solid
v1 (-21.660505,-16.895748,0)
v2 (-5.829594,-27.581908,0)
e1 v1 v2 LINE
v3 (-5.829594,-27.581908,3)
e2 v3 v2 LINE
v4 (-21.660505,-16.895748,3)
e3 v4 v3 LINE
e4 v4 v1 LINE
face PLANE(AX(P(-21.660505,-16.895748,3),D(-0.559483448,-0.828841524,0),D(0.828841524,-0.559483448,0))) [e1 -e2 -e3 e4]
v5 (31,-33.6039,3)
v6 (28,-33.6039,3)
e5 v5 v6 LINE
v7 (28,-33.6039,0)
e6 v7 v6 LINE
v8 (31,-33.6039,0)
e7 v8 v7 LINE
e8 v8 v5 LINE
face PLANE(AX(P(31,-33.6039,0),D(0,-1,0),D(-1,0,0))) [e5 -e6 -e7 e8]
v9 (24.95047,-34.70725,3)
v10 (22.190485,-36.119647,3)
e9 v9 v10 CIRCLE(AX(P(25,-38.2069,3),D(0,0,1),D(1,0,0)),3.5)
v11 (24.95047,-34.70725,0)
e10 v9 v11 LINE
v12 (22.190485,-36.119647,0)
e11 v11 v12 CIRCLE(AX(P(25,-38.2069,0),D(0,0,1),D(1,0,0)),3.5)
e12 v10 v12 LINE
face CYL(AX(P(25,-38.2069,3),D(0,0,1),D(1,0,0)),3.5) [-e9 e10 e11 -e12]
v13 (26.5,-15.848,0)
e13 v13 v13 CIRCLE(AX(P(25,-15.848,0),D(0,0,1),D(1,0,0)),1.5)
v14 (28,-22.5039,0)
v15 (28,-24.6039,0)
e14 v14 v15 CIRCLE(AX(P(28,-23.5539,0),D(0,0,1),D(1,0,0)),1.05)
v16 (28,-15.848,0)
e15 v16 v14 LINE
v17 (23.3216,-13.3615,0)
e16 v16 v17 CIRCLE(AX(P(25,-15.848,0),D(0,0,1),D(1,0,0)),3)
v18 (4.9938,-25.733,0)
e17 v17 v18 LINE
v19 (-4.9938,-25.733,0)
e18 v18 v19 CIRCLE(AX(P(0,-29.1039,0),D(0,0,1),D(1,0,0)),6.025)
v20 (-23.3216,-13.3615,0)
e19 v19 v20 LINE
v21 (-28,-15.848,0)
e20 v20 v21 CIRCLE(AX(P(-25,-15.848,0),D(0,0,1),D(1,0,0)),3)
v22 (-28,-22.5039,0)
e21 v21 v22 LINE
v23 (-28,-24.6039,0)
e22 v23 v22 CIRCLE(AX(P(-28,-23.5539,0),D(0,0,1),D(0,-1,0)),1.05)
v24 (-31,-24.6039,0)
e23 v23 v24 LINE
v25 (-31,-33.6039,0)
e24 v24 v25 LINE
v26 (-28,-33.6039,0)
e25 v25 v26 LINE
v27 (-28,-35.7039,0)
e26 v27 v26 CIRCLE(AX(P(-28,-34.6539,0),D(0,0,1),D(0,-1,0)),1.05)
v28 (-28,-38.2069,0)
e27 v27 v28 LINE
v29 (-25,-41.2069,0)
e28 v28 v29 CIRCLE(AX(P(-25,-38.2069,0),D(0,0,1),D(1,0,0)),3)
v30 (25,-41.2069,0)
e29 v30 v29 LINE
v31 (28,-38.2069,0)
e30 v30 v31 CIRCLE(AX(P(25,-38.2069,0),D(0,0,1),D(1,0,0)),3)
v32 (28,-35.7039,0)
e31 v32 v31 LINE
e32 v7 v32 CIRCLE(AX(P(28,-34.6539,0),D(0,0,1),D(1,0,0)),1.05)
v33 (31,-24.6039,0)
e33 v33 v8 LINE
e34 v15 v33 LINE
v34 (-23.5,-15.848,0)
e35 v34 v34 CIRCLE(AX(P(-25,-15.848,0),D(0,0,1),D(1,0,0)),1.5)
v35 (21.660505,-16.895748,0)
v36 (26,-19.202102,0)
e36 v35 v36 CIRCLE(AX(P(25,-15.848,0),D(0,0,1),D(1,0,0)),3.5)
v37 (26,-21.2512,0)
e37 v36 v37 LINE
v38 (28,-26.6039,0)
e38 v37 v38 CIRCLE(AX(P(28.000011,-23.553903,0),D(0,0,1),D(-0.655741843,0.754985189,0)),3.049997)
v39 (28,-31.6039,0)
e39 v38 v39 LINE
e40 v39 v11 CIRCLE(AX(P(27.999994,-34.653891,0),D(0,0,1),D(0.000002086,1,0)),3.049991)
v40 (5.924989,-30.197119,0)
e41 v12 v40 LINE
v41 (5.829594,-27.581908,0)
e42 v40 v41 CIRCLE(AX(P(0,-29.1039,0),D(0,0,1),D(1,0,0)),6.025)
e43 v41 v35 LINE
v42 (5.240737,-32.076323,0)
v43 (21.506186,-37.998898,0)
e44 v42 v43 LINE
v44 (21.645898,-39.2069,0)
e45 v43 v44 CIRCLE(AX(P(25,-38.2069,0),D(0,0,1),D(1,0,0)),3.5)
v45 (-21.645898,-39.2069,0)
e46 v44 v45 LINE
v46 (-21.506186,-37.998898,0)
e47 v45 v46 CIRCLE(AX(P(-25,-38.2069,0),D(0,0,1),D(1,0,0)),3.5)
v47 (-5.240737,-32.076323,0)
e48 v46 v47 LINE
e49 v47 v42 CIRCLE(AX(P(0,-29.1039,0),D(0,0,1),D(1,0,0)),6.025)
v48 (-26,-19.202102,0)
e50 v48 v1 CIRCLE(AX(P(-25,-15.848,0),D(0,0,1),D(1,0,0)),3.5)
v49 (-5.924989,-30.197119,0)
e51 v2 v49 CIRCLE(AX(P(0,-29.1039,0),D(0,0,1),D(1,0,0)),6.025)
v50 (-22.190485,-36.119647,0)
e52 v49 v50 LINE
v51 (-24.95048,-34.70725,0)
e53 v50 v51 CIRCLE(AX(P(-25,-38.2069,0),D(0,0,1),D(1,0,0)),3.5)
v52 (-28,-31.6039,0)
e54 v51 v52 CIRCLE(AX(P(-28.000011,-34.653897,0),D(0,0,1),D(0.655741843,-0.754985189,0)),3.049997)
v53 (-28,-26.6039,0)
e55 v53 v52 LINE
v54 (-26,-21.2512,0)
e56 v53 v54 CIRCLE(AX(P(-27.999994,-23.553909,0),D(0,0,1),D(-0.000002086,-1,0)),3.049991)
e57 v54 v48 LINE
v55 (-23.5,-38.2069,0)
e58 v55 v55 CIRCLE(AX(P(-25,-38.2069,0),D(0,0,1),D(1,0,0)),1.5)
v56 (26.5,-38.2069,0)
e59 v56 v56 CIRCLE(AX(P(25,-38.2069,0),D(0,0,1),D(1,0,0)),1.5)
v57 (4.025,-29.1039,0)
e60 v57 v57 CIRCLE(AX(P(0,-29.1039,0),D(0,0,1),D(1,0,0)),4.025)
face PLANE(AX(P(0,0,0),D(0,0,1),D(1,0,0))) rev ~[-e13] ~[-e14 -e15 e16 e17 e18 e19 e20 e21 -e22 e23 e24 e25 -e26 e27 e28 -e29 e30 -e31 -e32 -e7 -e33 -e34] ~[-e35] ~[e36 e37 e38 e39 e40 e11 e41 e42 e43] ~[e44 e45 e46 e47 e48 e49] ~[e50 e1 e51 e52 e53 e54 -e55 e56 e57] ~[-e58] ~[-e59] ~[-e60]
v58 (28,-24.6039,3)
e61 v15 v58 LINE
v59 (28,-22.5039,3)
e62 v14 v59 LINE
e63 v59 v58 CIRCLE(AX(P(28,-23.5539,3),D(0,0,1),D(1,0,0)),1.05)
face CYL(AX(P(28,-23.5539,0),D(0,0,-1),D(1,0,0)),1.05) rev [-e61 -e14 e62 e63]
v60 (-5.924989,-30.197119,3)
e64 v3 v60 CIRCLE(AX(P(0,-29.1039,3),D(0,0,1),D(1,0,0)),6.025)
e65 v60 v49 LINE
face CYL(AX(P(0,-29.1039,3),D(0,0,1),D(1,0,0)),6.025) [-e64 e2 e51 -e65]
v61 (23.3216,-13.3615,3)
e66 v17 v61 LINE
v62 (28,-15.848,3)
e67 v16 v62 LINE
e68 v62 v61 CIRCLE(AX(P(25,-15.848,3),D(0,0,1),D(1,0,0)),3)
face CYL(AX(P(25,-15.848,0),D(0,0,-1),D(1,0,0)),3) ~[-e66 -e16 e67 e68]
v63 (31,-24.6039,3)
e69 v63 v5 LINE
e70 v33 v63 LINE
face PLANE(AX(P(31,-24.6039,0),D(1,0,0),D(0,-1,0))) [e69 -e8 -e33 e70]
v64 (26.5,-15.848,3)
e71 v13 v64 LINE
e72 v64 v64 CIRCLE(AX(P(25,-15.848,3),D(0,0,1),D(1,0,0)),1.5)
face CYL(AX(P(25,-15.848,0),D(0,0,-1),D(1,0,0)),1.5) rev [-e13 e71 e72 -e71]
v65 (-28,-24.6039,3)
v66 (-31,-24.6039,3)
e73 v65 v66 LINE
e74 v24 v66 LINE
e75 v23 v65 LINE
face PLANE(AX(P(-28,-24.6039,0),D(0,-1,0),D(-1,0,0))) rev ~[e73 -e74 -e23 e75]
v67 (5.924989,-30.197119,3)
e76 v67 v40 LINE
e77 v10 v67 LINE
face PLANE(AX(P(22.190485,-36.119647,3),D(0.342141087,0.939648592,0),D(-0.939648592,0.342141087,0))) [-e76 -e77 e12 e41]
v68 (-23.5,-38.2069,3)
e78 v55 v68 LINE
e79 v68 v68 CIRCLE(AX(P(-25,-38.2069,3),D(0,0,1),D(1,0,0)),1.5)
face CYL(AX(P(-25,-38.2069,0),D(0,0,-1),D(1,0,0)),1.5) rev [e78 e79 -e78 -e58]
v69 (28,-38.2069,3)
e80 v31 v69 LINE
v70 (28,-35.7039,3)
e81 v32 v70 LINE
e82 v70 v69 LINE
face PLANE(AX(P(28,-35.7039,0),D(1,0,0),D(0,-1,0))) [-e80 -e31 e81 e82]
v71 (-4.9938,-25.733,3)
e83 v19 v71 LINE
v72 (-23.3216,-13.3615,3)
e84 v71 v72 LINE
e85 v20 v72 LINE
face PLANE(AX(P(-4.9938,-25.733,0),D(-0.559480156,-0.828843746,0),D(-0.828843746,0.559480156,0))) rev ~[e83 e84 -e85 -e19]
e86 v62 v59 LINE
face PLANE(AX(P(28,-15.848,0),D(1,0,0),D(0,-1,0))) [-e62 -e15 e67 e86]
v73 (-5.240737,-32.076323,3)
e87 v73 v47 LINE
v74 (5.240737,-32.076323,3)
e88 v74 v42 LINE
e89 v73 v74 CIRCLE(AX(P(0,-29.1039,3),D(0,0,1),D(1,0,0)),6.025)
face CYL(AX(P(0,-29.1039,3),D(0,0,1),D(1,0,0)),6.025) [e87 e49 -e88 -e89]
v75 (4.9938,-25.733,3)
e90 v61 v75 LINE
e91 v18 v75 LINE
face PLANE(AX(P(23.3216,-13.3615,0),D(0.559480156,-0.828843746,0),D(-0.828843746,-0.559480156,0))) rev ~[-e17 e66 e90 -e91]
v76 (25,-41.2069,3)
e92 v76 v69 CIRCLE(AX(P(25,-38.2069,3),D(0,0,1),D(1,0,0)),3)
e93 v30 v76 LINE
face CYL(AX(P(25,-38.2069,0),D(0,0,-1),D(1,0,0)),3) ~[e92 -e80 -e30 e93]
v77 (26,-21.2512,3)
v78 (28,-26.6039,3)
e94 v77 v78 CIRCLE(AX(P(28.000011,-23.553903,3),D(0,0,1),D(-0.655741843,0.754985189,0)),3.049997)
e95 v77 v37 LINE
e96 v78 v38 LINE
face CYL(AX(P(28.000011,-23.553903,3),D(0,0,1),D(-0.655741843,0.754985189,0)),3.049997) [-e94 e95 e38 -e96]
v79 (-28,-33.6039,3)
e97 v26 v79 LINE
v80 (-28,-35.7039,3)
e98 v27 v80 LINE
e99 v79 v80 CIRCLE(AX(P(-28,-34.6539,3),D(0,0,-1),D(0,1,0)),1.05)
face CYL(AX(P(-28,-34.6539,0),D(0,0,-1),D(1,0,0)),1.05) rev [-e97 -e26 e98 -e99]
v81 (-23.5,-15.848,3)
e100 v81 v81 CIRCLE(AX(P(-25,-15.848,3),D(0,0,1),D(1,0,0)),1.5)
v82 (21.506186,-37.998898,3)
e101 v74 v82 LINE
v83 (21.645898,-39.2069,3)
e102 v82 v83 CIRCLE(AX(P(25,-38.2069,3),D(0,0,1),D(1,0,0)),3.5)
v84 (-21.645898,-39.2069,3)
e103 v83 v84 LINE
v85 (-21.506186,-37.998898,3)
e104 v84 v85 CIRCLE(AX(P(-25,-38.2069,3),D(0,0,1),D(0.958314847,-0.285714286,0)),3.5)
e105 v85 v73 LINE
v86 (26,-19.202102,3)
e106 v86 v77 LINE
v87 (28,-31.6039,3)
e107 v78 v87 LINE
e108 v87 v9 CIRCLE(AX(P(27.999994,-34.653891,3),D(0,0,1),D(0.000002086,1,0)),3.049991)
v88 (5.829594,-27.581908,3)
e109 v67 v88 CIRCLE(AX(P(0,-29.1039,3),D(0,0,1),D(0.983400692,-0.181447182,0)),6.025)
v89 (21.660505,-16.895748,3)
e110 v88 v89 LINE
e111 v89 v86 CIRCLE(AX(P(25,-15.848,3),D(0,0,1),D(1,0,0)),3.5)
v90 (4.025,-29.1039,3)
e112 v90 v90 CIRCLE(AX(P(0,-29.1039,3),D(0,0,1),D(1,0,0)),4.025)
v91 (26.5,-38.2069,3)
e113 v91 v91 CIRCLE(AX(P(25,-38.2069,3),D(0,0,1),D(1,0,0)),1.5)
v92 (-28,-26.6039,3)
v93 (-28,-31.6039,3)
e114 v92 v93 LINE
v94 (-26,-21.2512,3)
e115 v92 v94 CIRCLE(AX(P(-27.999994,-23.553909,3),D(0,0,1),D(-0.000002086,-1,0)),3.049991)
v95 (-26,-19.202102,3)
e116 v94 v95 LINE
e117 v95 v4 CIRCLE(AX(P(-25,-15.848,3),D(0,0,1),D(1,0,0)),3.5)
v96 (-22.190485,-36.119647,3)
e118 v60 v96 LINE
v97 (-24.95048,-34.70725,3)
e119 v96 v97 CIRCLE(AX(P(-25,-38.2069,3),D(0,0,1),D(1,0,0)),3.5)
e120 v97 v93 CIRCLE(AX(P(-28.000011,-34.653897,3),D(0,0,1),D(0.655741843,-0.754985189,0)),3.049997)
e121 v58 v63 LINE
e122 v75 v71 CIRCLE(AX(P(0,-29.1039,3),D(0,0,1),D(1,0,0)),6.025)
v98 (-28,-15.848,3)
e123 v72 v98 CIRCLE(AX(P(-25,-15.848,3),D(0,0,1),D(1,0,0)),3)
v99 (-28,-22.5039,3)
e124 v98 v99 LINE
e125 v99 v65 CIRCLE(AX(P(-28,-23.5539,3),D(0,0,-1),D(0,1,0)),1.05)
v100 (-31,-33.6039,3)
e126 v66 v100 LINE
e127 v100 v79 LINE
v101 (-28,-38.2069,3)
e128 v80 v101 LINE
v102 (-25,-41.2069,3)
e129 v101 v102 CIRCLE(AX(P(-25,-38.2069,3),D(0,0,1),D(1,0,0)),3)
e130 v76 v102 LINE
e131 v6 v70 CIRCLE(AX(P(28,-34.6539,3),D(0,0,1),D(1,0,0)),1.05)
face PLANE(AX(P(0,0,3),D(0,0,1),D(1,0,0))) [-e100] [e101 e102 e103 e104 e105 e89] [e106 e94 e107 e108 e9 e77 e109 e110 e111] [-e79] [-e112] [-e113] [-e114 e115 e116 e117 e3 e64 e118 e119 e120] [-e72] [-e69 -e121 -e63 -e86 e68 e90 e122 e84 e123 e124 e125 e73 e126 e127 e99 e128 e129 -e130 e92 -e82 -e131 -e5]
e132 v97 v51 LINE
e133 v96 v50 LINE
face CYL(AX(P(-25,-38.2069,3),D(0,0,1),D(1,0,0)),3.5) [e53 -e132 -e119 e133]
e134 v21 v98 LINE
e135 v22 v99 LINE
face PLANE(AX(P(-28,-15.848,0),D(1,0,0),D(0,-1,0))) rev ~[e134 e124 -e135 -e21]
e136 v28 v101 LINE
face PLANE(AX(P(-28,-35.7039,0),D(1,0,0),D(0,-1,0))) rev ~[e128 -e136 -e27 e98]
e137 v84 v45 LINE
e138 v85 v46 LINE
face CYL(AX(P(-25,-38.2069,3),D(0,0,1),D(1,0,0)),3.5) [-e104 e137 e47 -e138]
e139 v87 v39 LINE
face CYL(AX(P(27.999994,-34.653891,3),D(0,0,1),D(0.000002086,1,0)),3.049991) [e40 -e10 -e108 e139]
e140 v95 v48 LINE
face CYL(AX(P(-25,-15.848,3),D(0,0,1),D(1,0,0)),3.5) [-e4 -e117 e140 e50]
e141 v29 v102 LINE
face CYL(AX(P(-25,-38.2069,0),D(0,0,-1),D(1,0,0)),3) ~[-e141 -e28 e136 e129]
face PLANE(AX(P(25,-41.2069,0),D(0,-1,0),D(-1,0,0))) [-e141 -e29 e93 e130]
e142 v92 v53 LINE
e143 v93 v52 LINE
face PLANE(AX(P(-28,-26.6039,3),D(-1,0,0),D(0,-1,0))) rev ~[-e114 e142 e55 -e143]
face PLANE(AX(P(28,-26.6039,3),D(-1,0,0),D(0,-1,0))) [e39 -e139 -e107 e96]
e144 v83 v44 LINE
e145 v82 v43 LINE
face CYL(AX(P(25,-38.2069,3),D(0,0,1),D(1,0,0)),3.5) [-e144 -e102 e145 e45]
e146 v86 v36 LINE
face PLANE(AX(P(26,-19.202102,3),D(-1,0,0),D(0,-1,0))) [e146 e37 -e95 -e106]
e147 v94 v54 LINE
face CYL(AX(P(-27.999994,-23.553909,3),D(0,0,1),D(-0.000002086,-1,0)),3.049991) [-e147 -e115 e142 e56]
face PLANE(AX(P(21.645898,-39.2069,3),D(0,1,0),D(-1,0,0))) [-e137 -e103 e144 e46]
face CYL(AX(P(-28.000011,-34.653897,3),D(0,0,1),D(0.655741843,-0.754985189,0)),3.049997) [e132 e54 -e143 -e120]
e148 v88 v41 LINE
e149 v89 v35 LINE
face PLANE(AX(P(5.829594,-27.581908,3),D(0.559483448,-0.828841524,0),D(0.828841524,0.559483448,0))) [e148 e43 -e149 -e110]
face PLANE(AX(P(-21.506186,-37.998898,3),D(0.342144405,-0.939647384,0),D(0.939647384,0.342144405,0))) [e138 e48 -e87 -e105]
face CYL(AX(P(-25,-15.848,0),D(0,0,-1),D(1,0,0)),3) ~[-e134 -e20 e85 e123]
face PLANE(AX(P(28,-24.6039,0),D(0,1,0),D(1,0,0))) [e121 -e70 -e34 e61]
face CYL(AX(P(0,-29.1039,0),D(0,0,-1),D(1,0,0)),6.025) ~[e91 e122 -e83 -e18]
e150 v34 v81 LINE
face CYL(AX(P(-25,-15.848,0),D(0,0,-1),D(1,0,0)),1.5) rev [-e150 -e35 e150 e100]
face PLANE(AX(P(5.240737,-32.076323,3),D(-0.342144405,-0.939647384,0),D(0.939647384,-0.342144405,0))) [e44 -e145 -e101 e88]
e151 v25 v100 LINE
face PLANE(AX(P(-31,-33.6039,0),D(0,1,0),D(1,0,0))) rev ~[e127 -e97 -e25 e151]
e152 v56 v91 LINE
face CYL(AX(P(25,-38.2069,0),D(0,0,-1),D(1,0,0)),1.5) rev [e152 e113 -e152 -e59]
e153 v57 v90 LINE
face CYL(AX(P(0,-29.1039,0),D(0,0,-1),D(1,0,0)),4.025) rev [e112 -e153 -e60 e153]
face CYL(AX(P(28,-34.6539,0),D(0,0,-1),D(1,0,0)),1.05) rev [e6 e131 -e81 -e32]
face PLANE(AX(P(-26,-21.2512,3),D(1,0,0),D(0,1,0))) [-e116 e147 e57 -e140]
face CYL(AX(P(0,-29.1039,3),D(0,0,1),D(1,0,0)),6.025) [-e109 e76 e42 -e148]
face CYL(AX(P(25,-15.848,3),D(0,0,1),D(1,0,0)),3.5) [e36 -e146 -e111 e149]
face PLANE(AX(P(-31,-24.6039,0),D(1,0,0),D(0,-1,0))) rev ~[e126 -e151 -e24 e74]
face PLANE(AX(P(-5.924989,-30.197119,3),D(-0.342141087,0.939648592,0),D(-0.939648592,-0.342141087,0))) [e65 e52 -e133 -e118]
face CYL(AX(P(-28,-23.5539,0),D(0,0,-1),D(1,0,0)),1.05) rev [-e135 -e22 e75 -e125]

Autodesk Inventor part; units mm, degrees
ref_plane "YZ Plane" through (0, 0, 0) normal (1, 0, 0) x (0, 1, 0)
ref_plane "XZ Plane" through (0, 0, 0) normal (0, 1, 0) x (-1, 0, 0)
ref_plane "XY Plane" through (0, 0, 0) normal (0, 0, 1) x (1, 0, 0)
sketch "スケッチ1" plane through (0, 0, 0) normal (0, 0, 1) x (1, 0, 0)
  line L0 (0, 0) -> (0, 4) construction
  line L1 (0, 0) -> (8.6476, -12.2564)
  line L2 (8.6476, -12.2564) -> (-0.2755, 4.5179)
  circle A0 centre (3.0119, -1.6621) radius 4
  line L3 (-57.3278, -140) -> (69.8706, -140)
  line L4 (3.0119, -1.6621) -> (117.7837, 59.3906)
  circle A1 centre (0, 0) radius 23.1
  circle A2 centre (0, -29.1039) radius 6.0039
  line L5 (0, 0) -> (0, -29.1039) construction
  circle A3 centre (0, -29.1039) radius 16.55
  circle A4 centre (0, -7.5039) radius 5.05
  circle A5 centre (0, 4) radius 3
  circle A6 centre (0, -7.5039) radius 20.05
  circle A7 centre (-14, 10.2376) radius 2.55
  circle A8 centre (14, 10.2376) radius 2.55
  circle A9 centre (14, -25.2454) radius 2.55
  circle A10 centre (-14, -25.2454) radius 2.55
  circle A11 centre (-14, 10.2376) radius 14
  circle A12 centre (14, 10.2376) radius 14
  circle A13 centre (14, -25.2454) radius 14
  circle A14 centre (-14, -25.2454) radius 14
  line L6 (-14, 10.2376) -> (-14, -25.2454) construction
  line L7 (-14, -25.2454) -> (14, -25.2454) construction
  circle A15 centre (0, 0) radius 9
  line L8 (-0.2755, 4.5179) -> (3.4816, -2.5449) construction
  line L9 (-2.9462, 3.0973) -> (0.8109, -3.9656)
  line L10 (6.1522, -1.1243) -> (2.3951, 5.9386)
  arc A16 (2.3951, 5.9386) -> (-2.9462, 3.0973) centre (-0.2755, 4.5179) ccw
  arc A17 (0.8109, -3.9656) -> (6.1522, -1.1243) centre (3.4816, -2.5449) ccw
  line L11 (-5, 2.8868) -> (5, 2.8868) construction
  line L12 (5, 2.8868) -> (0, -5.7735) construction
  line L13 (0, -5.7735) -> (-5, 2.8868) construction
  circle A18 centre (-5, 2.8868) radius 1.5
  circle A19 centre (5, 2.8868) radius 1.5
  circle A20 centre (0, -5.7735) radius 1.5
  line L14 (-28, 22.5965) -> (-28, -43.3295)
  line L15 (28, 22.9271) -> (28, -43.0008)
  line L16 (-28, 26.1991) -> (28, 26.1991)
  circle A21 centre (0, 0) radius 25.1
  line L17 (-28, -18.848) -> (28, -18.848)
  circle A22 centre (0, -29.1039) radius 8.0039
  circle A23 centre (-25, 23.1991) radius 3
  circle A24 centre (25, 23.1991) radius 3
  circle A25 centre (25, -38.2069) radius 3
  circle A26 centre (-25, -38.2069) radius 3
  circle A27 centre (-25, -15.848) radius 3
  circle A28 centre (25, -15.848) radius 3
  circle A29 centre (-25, -15.848) radius 4.5
  circle A30 centre (25, -15.848) radius 4.5
  circle A31 centre (0, -7.5039) radius 4.5
  circle A32 centre (0, -29.1039) radius 17.55
  circle A33 centre (0, -7.5039) radius 6.05
  point P0 (1.603, 0.9865)
  dimension "d0" = 4
  dimension "d1" = 15
  dimension "d2" = 18.4133
  dimension "d3" = 19
  dimension "d4" = 8
  dimension "d5" = 12
  dimension "d6" = 140
  dimension "d7" = 130
  dimension "d8" = 46.2
  dimension "d9" = 29.1039
  dimension "d10" = 33.1
  dimension "d11" = 10.1
  dimension "d12" = 6
  dimension "d13" = 40.1
  dimension "d14" = 28
  dimension "d15" = 28
  dimension "d16" = 28
  dimension "d17" = 28
  dimension "d18" = 18
  dimension "d19" = 8
  dimension "d20" = 6.05
  dimension "d21" = 3
  dimension "d22" = 3
  dimension "d23" = 3
  dimension "d24" = 10
  dimension "d25" = 2
  dimension "d26" = 2
  dimension "d27" = 6
  dimension "d28" = 6
  dimension "d29" = 6
  dimension "d30" = 6
  dimension "d31" = 6
  dimension "d32" = 6
  dimension "d33" = 9
  dimension "d34" = 9
  dimension "d35" = 9
  dimension "d36" = 5.1
  dimension "d37" = 1
  dimension "d38" = 1
  dimension "d39" = 56
  dimension "d40" = 28
sketch "スケッチ2" plane through (0, 0, 0) normal (0, 0, 1) x (1, 0, 0)
  circle A0 centre (-25, -15.848) radius 3 projected
  circle A1 centre (-25, -38.2069) radius 3 projected
  circle A2 centre (25, -38.2069) radius 3 projected
  circle A3 centre (25, -15.848) radius 3 projected
  circle A4 centre (0, -29.1039) radius 6.0039 construction
  circle A5 centre (0, 0) radius 25.1 construction
  circle A6 centre (0, -29.1039) radius 4.025
  line L0 (25, -41.2069) -> (-25, -41.2069)
  circle A7 centre (-25, -15.848) radius 1.5
  circle A8 centre (25, -15.848) radius 1.5
  circle A9 centre (25, -38.2069) radius 1.5
  circle A10 centre (-25, -38.2069) radius 1.5
  circle A11 centre (0, -29.1039) radius 6.025
  line L1 (23.3216, -13.3615) -> (4.9938, -25.733)
  line L2 (-4.9938, -25.733) -> (-23.3216, -13.3615)
  line L3 (-28, -15.848) -> (-28, -38.2069)
  line L4 (28, -15.848) -> (28, -38.2069)
  line L5 (-28, -24.6039) -> (-31, -24.6039)
  line L6 (-31, -24.6039) -> (-31, -33.6039)
  line L7 (-31, -33.6039) -> (-28, -33.6039)
  line L8 (28, -24.6039) -> (31, -24.6039)
  line L9 (31, -24.6039) -> (31, -33.6039)
  line L10 (31, -33.6039) -> (28, -33.6039)
  circle A12 centre (-28, -34.6539) radius 1.05
  circle A13 centre (-28, -23.5539) radius 1.05
  circle A14 centre (28, -23.5539) radius 1.05
  circle A15 centre (28, -34.6539) radius 1.05
  point P0 (-28, -22.5039)
  point P1 (-28, -35.7039)
  point P2 (28, -35.7039)
  point P3 (28, -22.5039)
  dimension "d41" = 8.05
  dimension "d52" = 3
  dimension "d53" = 3
  dimension "d54" = 3
  dimension "d55" = 3
  dimension "d57" = 2
  dimension "d61" = 3
  dimension "d62" = 9
  dimension "d63" = 3
  dimension "d64" = 9
  dimension "d65" = 2.1
  dimension "d66" = 2.1
  dimension "d67" = 2.1
  dimension "d68" = 2.1
  dimension "d69" = 4.5
extrude "押し出し2" add sketch "スケッチ2" along normal blind 3 contours A0 | A0 L2 A11 L1 A3 L4 A14 A15 A2 L0 A1 L3 A12 A13 | A11 | L3 L7 L6 L5 | A3 | A1 | L8 L9 L10 L4 | A2
sketch "スケッチ3" plane through (0, 0, 3) normal (0, 0, 1) x (1, 0, 0)
  line L0 (-28, -15.848) -> (-28, -22.5039) projected
  arc A0 (-28, -24.6039) -> (-28, -22.5039) centre (-28, -23.5539) ccw projected
  line L1 (-28, -24.6039) -> (-31, -24.6039) projected
  line L2 (-31, -24.6039) -> (-31, -33.6039) projected
  line L3 (-31, -33.6039) -> (-28, -33.6039) projected
  arc A1 (-28, -35.7039) -> (-28, -33.6039) centre (-28, -34.6539) ccw projected
  line L4 (-28, -35.7039) -> (-28, -38.2069) projected
  arc A2 (-28, -38.2069) -> (-25, -41.2069) centre (-25, -38.2069) ccw projected
  line L5 (-25, -41.2069) -> (25, -41.2069) projected
  arc A3 (25, -41.2069) -> (28, -38.2069) centre (25, -38.2069) ccw projected
  line L6 (28, -38.2069) -> (28, -35.7039) projected
  arc A4 (28, -33.6039) -> (28, -35.7039) centre (28, -34.6539) ccw projected
  line L7 (28, -33.6039) -> (31, -33.6039) projected
  line L8 (31, -33.6039) -> (31, -24.6039) projected
  line L9 (31, -24.6039) -> (28, -24.6039) projected
  arc A5 (28, -22.5039) -> (28, -24.6039) centre (28, -23.5539) ccw projected
  line L10 (28, -22.5039) -> (28, -15.848) projected
  arc A6 (28, -15.848) -> (23.3216, -13.3615) centre (25, -15.848) ccw projected
  line L11 (23.3216, -13.3615) -> (4.9938, -25.733) projected
  arc A7 (4.9938, -25.733) -> (-4.9938, -25.733) centre (0, -29.1039) ccw projected
  line L12 (-4.9938, -25.733) -> (-23.3216, -13.3615) projected
  arc A8 (-23.3216, -13.3615) -> (-28, -15.848) centre (-25, -15.848) ccw projected
  circle A9 centre (25, -38.2069) radius 1.5 projected
  circle A10 centre (-25, -38.2069) radius 1.5 projected
  circle A11 centre (25, -15.848) radius 1.5 projected
  circle A12 centre (0, -29.1039) radius 4.025 projected
  circle A13 centre (-25, -15.848) radius 1.5 projected
  line L13 (-24.4405, -15.0192) -> (-4.0141, -28.8074)
  arc A14 (4.0141, -28.8074) -> (-4.0141, -28.8074) centre (0, -29.1039) ccw
  line L14 (4.0141, -28.8074) -> (24.4405, -15.0192)
  arc A15 (26, -15.848) -> (24.4405, -15.0192) centre (25, -15.848) ccw
  line L15 (26, -15.848) -> (26, -21.2512)
  arc A16 (26, -21.2512) -> (28, -26.6039) centre (28, -23.5539) ccw
  line L16 (28, -26.6039) -> (29, -26.6039)
  line L17 (29, -26.6039) -> (29, -31.6039)
  line L18 (29, -31.6039) -> (28, -31.6039)
  arc A17 (28, -31.6039) -> (26, -36.9566) centre (28, -34.6539) ccw
  line L19 (26, -36.9566) -> (26, -38.2069)
  arc A18 (25, -39.2069) -> (26, -38.2069) centre (25, -38.2069) ccw
  line L20 (25, -39.2069) -> (-25, -39.2069)
  arc A19 (-26, -38.2069) -> (-25, -39.2069) centre (-25, -38.2069) ccw
  line L21 (-26, -38.2069) -> (-26, -36.9566)
  arc A20 (-26, -36.9566) -> (-28, -31.6039) centre (-28, -34.6539) ccw
  line L22 (-28, -31.6039) -> (-29, -31.6039)
  line L23 (-29, -31.6039) -> (-29, -26.6039)
  line L24 (-29, -26.6039) -> (-28, -26.6039)
  arc A21 (-28, -26.6039) -> (-26, -21.2512) centre (-28, -23.5539) ccw
  line L25 (-26, -21.2512) -> (-26, -15.848)
  arc A22 (-24.4405, -15.0192) -> (-26, -15.848) centre (-25, -15.848) ccw
  circle A23 centre (0, -29.1039) radius 6.025
  circle A24 centre (25, -15.848) radius 3.5
  circle A25 centre (25, -38.2069) radius 3.5
  circle A26 centre (-25, -38.2069) radius 3.5
  circle A27 centre (-25, -15.848) radius 3.5
  line L26 (-25, -38.2069) -> (0, -29.1039) construction
  line L27 (-24.6579, -39.1465) -> (0.3421, -30.0435)
  line L28 (-0.3421, -28.1643) -> (-25.3421, -37.2672)
  arc A28 (-25.3421, -37.2672) -> (-24.6579, -39.1465) centre (-25, -38.2069) ccw
  arc A29 (0.3421, -30.0435) -> (-0.3421, -28.1643) centre (0, -29.1039) ccw
  line L29 (0, -29.1039) -> (25, -38.2069) construction
  line L30 (-0.3421, -30.0435) -> (24.6579, -39.1465)
  line L31 (25.3421, -37.2672) -> (0.3421, -28.1643)
  arc A30 (0.3421, -28.1643) -> (-0.3421, -30.0435) centre (0, -29.1039) ccw
  arc A31 (24.6579, -39.1465) -> (25.3421, -37.2672) centre (25, -38.2069) ccw
  line L32 (-28, -22.5039) -> (-28, -35.7039)
  line L33 (28, -38.2069) -> (28, -35.7039) projected
  line L34 (28, -22.5039) -> (28, -35.7039)
  point P0 (0, 0)
  point P1 (-12.5, -33.6554)
  point P2 (12.5, -33.6554)
  point P3 (28, -26.6039)
  point P4 (26, -19.2021)
  point P5 (21.6605, -16.8957)
  point P6 (5.8296, -27.5818)
  point P7 (5.925, -30.1971)
  point P8 (22.1905, -36.1196)
  point P9 (24.9505, -34.7072)
  point P10 (21.5062, -37.9989)
  point P11 (5.2407, -32.0764)
  point P12 (-5.2407, -32.0764)
  point P13 (-21.5062, -37.9989)
  point P14 (-21.6459, -39.2069)
  point P15 (21.6459, -39.2069)
  point P16 (-28, -31.6039)
  point P17 (-24.9505, -34.7072)
  point P18 (-22.1905, -36.1196)
  point P19 (-5.925, -30.1971)
  point P20 (-5.8296, -27.5818)
  point P21 (-21.6605, -16.8957)
  point P22 (-26, -19.2021)
  dimension "d72" = 2
  dimension "d73" = 2
  dimension "d74" = 2
  dimension "d75" = 2
  dimension "d76" = 2
  dimension "d77" = 2
  dimension "d78" = 2
  dimension "d79" = 2
extrude "押し出し3" cut sketch "スケッチ3" against normal blind 10 contours A27 L13 A23 L28 A26 A20 L32 A21 L25 | L14 A24 L15 A16 L34 A17 A25 L31 A23 | A23 L30 A25 L20 A26 L27
equation "\"d14\" = d15"
equation "\"d16\" = d15"
equation "\"d17\" = d14"
equation "\"d40\" = 0.5 * d39"
properties part number "横回転フレーム改３" material "アルミニウム 2014-T4"
